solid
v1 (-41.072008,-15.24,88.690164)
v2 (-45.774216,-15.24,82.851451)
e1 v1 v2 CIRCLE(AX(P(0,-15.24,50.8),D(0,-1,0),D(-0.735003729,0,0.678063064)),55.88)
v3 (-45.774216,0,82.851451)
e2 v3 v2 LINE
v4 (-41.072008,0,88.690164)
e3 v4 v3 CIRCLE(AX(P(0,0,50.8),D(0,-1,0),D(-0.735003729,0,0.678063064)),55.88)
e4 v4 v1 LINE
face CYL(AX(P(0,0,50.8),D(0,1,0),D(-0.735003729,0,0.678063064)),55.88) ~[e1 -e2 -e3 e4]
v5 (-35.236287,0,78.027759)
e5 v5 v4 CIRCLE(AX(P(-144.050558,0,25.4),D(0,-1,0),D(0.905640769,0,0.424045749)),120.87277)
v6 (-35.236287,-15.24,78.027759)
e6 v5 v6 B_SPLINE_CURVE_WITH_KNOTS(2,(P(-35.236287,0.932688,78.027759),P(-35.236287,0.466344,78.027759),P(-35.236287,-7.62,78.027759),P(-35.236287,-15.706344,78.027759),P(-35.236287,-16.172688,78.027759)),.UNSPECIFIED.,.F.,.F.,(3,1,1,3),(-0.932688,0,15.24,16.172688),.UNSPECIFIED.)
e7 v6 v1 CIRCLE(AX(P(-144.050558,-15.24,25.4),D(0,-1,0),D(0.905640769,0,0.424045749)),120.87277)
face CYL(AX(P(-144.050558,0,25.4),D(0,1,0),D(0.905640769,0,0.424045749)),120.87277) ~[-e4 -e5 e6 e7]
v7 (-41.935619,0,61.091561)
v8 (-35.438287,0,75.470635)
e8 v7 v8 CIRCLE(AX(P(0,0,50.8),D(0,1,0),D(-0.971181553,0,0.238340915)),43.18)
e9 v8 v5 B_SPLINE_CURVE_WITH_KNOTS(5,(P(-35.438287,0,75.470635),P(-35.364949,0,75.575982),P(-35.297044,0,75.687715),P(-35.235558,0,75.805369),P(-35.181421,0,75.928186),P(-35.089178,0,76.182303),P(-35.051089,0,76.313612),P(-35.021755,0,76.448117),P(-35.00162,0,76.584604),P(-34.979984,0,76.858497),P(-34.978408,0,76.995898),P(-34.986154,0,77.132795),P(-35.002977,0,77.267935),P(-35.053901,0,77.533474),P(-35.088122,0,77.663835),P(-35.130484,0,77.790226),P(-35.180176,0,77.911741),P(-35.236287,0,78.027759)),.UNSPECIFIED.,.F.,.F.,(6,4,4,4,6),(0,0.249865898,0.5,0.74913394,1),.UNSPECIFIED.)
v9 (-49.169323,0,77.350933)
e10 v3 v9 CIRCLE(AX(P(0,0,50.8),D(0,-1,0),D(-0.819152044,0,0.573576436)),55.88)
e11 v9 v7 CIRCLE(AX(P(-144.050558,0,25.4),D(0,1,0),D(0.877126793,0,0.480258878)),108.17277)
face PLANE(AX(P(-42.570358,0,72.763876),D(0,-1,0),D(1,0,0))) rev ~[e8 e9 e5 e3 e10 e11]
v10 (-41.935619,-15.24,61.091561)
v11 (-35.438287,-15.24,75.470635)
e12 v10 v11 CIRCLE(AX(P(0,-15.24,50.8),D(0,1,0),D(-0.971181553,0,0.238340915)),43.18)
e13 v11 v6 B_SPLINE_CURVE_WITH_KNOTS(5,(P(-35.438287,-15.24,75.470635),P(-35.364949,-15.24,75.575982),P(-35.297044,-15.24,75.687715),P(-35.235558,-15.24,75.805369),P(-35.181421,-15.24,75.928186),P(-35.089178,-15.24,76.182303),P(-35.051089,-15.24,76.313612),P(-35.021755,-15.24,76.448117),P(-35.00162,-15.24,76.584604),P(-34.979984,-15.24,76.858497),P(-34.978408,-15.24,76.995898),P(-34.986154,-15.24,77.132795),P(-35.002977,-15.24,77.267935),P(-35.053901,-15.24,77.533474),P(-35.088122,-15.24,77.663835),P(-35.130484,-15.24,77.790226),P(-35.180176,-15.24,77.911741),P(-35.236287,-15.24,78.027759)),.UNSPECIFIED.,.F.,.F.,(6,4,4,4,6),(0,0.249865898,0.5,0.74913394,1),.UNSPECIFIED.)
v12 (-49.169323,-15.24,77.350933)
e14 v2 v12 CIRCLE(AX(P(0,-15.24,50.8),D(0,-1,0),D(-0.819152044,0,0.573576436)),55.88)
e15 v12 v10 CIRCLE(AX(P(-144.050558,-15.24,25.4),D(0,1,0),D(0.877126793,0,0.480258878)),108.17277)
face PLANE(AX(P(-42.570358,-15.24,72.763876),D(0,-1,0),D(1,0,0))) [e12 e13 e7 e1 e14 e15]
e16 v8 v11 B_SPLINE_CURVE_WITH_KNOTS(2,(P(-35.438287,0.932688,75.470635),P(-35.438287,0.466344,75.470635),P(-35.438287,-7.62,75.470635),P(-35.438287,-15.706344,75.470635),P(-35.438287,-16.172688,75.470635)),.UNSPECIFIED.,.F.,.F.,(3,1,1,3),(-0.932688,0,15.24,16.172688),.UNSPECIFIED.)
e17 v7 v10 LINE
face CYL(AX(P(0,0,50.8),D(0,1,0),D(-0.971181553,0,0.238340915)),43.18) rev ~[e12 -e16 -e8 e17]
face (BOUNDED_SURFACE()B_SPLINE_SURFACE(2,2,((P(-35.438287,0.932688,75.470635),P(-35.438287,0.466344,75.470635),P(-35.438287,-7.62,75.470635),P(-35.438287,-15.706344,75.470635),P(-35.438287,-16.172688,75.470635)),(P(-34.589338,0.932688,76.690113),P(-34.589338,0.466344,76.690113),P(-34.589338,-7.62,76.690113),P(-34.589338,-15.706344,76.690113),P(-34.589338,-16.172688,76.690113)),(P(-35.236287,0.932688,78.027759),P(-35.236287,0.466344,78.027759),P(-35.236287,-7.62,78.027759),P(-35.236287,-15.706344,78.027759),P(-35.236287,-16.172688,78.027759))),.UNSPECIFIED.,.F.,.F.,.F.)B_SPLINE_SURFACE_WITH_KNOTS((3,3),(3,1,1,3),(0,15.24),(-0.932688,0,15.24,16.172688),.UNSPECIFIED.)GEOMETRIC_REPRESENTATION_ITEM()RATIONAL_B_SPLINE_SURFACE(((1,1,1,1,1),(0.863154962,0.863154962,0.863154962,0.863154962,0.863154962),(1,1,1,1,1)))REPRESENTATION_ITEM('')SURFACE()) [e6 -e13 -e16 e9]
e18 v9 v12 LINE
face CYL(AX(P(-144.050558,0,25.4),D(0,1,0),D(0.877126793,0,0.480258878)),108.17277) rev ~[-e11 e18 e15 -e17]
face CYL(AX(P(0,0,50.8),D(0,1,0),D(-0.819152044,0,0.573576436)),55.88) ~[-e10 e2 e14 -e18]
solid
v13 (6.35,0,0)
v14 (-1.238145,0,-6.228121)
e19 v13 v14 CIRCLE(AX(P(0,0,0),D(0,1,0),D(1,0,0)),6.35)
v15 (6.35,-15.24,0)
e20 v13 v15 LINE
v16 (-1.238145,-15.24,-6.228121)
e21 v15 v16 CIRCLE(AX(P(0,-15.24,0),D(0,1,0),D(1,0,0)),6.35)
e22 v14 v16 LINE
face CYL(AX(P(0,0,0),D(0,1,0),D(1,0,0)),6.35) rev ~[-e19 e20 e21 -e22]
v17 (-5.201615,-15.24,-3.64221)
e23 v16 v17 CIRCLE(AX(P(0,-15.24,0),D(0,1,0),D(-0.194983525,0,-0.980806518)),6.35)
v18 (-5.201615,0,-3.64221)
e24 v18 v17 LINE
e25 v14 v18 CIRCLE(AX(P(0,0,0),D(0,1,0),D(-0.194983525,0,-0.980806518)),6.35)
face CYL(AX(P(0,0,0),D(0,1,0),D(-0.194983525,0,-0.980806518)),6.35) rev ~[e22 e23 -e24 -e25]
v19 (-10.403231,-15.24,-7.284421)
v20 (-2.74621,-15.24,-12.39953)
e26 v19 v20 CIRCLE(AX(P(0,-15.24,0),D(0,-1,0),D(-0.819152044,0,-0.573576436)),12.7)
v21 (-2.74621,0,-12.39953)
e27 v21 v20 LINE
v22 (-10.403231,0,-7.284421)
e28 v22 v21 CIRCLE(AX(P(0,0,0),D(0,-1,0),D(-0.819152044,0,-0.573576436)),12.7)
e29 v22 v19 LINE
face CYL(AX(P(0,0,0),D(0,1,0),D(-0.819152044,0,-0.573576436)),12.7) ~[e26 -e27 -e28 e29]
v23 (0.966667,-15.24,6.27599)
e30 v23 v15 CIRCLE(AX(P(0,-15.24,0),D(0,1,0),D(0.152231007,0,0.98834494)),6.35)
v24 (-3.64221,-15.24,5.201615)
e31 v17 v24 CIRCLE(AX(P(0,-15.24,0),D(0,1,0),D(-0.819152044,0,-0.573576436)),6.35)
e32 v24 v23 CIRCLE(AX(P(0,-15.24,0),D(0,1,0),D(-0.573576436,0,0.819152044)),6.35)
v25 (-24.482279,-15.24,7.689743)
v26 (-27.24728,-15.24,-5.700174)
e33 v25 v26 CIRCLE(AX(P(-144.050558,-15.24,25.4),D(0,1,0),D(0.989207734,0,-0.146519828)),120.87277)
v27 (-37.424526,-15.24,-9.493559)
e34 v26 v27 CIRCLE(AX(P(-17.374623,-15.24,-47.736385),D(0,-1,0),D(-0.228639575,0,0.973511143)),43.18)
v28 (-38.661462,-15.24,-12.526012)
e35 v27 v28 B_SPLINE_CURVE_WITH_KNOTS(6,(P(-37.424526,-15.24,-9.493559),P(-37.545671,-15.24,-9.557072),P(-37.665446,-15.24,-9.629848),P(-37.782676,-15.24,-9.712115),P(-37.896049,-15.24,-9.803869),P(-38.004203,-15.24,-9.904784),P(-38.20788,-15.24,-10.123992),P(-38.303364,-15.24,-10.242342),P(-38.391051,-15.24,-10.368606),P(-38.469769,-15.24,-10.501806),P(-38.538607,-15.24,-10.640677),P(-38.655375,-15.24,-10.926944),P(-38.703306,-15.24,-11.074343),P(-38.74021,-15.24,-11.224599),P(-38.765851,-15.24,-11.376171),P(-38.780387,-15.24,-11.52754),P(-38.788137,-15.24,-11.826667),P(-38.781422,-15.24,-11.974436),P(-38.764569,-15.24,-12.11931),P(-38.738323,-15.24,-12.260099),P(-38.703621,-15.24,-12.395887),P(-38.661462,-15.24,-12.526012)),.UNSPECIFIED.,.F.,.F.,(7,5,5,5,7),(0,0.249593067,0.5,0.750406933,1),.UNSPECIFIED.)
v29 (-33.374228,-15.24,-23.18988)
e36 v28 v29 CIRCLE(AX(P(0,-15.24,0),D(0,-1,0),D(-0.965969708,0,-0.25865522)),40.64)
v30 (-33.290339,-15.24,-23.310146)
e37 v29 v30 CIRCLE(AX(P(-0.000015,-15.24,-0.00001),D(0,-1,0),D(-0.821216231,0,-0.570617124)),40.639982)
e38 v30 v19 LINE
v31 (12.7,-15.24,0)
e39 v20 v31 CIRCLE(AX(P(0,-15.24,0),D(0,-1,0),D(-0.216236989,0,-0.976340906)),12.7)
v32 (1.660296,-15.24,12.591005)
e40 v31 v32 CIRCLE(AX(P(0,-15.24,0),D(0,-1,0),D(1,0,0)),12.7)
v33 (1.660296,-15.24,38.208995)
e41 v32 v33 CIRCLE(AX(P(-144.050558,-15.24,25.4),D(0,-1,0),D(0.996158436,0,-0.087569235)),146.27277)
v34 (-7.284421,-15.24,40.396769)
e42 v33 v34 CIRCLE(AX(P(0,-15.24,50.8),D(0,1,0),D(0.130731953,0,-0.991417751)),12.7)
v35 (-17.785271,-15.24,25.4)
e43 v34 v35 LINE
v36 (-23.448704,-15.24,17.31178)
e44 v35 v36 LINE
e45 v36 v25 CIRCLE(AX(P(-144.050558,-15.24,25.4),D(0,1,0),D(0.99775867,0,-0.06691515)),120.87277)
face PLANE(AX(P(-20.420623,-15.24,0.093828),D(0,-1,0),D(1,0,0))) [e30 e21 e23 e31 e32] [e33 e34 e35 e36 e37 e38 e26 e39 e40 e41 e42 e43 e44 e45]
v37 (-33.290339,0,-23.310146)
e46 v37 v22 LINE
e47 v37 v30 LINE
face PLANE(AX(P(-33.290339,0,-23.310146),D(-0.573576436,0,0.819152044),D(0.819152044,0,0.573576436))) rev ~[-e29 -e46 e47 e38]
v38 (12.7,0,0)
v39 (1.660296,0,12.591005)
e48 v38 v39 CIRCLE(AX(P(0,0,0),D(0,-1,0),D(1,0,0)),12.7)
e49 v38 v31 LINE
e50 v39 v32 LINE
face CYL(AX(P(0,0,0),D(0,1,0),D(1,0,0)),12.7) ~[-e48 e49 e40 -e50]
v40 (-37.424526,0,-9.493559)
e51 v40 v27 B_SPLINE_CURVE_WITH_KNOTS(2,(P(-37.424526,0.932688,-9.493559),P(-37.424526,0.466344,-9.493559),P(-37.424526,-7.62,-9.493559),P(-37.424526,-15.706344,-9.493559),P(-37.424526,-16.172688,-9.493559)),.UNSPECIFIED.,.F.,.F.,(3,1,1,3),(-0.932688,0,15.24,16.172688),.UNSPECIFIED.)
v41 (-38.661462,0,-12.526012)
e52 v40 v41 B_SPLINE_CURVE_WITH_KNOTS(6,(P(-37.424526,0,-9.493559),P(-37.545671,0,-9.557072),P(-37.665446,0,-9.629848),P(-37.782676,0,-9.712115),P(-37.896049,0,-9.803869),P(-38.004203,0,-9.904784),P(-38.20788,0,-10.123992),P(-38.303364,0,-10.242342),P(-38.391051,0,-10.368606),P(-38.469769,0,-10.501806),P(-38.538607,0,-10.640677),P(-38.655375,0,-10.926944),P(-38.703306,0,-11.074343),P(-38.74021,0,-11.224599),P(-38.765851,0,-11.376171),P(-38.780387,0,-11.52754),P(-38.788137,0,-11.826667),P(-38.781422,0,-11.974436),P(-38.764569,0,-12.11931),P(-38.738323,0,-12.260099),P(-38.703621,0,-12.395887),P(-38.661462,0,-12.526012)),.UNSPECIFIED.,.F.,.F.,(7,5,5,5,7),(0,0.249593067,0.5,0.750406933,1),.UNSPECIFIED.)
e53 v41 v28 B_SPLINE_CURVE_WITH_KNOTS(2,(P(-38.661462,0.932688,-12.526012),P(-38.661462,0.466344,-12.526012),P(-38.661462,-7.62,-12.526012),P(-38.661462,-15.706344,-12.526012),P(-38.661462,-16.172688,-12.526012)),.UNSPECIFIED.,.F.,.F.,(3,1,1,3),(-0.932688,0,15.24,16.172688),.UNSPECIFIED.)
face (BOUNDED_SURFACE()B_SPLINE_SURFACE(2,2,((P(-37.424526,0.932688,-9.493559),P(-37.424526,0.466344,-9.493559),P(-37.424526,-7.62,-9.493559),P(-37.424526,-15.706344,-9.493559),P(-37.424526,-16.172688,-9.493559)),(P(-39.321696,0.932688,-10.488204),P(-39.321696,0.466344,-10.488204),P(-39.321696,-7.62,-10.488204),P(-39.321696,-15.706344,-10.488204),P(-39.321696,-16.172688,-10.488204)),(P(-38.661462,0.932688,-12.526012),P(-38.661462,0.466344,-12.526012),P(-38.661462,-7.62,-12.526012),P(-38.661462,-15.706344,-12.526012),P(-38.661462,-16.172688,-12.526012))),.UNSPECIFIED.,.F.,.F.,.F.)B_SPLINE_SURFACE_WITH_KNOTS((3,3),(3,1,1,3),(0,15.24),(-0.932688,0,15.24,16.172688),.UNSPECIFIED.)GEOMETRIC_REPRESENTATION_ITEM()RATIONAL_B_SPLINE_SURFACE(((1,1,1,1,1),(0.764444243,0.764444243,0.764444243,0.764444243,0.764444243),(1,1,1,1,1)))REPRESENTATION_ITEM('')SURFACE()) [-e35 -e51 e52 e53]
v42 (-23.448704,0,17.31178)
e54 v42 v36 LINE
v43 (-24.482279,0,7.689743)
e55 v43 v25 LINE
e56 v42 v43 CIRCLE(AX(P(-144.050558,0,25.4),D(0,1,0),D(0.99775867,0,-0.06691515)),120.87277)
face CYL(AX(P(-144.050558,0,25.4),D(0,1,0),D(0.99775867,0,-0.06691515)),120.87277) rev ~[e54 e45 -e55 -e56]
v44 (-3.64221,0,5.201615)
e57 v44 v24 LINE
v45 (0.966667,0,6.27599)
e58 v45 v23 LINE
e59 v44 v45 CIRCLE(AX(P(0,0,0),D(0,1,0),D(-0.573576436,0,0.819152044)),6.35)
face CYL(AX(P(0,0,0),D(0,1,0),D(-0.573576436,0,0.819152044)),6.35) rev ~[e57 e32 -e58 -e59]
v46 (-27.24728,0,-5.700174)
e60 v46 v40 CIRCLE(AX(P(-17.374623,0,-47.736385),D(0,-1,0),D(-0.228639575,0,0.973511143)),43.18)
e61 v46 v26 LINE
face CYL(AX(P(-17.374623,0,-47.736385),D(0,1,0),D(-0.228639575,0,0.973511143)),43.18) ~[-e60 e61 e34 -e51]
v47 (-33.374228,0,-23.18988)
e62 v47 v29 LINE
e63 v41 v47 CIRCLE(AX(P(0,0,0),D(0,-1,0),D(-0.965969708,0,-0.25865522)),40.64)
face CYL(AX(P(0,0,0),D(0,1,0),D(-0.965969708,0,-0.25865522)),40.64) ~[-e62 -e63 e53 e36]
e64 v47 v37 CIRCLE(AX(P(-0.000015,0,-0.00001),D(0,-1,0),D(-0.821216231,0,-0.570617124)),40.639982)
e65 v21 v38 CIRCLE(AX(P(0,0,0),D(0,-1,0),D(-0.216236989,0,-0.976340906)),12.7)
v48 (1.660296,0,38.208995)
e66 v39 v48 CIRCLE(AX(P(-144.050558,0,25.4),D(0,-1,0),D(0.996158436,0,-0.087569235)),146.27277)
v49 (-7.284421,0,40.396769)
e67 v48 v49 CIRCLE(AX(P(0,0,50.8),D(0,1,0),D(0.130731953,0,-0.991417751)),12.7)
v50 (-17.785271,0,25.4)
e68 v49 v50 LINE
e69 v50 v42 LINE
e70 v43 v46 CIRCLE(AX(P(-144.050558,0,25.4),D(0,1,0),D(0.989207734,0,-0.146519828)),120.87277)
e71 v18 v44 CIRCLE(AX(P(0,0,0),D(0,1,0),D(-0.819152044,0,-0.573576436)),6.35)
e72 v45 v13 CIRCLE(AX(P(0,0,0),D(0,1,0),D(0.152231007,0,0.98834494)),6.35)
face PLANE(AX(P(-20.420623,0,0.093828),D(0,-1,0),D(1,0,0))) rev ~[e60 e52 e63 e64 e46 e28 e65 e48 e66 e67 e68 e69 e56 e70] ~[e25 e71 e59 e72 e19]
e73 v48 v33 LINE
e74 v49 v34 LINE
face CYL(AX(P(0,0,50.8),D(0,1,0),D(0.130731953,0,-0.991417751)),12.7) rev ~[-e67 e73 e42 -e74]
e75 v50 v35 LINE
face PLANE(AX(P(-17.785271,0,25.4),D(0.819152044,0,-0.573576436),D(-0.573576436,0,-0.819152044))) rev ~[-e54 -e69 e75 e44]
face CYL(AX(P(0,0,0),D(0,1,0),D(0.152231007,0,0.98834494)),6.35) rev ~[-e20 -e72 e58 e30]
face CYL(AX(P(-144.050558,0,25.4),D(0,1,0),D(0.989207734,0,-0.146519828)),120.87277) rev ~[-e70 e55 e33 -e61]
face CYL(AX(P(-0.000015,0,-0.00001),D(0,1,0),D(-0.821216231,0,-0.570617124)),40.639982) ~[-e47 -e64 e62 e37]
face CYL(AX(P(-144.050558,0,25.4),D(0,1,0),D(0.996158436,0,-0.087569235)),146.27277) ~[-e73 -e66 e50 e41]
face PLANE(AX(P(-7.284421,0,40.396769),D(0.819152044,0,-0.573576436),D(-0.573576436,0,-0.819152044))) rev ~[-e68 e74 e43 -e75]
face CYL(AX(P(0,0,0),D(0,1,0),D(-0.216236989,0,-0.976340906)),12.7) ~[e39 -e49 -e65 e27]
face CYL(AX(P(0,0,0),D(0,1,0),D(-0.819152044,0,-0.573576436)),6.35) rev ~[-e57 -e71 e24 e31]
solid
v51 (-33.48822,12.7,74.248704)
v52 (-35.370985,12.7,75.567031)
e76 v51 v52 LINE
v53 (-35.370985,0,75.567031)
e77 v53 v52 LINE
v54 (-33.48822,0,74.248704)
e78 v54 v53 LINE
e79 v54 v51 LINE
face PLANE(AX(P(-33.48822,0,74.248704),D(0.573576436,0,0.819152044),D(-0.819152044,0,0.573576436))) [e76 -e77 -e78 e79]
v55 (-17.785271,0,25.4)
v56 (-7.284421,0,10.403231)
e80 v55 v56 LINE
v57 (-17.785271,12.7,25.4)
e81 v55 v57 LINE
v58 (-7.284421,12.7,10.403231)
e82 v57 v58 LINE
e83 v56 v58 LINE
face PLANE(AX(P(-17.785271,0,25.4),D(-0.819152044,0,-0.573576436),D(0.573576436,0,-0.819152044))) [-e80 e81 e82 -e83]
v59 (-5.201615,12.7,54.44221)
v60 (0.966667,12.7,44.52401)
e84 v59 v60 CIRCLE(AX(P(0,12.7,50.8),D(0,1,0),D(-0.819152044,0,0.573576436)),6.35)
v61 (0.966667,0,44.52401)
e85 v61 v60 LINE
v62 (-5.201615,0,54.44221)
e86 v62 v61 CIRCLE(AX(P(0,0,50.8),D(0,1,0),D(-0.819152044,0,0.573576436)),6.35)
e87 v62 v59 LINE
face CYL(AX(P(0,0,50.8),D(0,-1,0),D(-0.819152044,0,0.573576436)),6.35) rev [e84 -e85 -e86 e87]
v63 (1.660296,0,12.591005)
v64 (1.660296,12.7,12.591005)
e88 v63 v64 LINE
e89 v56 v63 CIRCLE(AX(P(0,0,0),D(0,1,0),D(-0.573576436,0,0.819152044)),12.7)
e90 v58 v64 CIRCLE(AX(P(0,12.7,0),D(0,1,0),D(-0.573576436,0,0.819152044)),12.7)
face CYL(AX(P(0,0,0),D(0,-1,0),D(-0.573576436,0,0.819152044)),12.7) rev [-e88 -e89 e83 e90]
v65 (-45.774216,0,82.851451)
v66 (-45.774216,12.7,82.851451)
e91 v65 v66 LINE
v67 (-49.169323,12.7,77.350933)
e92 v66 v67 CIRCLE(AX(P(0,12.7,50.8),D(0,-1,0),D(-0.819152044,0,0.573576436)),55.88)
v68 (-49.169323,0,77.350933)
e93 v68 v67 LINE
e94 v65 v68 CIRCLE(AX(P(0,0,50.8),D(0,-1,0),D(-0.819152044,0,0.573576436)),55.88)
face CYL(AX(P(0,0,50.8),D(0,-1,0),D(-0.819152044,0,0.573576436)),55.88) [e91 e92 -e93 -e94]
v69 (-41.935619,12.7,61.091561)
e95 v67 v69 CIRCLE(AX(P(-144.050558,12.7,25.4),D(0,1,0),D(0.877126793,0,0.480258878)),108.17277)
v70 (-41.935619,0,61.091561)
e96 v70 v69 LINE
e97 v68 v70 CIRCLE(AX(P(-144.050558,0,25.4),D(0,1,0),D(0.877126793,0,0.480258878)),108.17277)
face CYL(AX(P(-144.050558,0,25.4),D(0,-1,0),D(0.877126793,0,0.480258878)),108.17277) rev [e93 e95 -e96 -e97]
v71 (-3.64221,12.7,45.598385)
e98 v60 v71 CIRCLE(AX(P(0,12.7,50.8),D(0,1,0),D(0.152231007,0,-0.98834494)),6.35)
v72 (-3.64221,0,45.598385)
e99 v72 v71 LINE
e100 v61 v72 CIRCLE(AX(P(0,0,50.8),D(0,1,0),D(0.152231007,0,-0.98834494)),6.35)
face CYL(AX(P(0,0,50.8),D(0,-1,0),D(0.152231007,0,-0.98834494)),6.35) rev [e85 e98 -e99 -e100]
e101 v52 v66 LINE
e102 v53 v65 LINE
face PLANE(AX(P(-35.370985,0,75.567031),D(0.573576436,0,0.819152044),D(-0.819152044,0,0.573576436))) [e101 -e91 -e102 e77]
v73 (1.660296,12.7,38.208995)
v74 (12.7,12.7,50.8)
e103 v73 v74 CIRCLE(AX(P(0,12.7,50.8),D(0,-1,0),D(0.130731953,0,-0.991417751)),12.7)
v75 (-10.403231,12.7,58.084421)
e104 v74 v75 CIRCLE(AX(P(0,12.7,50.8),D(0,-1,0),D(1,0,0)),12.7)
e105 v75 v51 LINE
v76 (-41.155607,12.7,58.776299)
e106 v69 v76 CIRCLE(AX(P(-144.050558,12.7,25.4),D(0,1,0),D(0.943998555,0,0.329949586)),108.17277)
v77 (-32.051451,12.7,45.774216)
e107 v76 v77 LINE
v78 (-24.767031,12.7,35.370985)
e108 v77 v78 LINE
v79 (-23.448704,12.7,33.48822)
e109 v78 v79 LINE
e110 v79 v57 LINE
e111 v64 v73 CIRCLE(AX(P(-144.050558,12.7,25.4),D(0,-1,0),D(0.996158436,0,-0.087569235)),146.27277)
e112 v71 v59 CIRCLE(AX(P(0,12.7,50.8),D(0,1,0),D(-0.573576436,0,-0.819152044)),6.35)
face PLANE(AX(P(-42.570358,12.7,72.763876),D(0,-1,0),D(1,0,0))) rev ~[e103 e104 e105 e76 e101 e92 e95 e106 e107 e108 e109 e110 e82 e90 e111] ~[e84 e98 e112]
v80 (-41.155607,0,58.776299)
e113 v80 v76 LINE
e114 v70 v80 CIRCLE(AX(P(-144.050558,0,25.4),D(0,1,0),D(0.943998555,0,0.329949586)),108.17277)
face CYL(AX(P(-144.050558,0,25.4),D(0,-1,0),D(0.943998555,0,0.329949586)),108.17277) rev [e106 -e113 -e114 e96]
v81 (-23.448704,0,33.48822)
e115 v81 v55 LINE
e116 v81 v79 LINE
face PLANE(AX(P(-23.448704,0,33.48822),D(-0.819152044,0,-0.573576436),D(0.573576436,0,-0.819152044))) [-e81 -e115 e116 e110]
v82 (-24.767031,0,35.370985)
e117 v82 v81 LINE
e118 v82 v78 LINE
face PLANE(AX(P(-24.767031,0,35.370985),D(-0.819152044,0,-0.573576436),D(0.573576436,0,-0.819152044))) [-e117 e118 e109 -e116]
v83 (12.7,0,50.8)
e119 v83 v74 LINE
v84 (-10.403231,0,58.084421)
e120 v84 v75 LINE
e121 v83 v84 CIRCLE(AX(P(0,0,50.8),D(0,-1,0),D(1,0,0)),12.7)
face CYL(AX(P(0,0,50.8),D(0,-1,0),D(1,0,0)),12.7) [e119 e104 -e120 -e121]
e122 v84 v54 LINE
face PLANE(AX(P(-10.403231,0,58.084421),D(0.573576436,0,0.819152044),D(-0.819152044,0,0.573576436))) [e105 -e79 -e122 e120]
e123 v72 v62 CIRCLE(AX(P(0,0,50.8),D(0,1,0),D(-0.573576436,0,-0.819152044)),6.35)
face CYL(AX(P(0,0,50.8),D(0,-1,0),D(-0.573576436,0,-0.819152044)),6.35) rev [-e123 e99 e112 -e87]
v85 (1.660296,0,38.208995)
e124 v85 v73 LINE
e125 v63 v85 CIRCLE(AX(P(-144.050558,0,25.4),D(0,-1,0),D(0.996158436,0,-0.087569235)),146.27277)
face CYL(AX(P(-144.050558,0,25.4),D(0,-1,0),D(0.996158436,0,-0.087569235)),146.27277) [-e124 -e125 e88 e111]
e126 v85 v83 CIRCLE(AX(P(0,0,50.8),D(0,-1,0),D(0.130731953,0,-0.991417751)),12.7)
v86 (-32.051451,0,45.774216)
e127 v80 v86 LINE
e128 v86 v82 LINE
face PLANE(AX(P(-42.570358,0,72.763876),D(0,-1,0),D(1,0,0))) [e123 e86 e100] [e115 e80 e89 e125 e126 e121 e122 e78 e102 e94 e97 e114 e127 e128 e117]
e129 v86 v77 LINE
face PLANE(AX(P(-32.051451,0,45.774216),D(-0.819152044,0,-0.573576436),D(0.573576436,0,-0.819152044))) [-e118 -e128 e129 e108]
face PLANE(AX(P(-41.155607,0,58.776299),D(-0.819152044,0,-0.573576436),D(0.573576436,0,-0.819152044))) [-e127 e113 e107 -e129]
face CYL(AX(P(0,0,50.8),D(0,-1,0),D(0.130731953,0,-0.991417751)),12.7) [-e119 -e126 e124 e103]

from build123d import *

# Parameters (mm, degrees)
F1_DEPTH = 15.24
F2_DEPTH = 12.7
F3_R     = 2.54
F3_2_R   = 2.54


with BuildPart() as f1:
    # F0 (on Front) → F1 (new body)
    with BuildSketch(Plane.XZ):
        with BuildLine():
            ThreePointArc((-10.4032309625, -7.2844207417), (-12.5070584633, 2.2053318564), (-7.2844207417, 10.4032309625))
            Line((-7.2844207417, 10.4032309625), (-17.7852714705, 25.4))
            Line((-17.7852714705, 25.4), (-23.4487037639, 17.311780459))
            ThreePointArc((-23.4487037639, 17.3117804589), (-23.8691571207, 12.4904135074), (-24.4822790895, 7.6897425378))
            ThreePointArc((-24.4822790895, 7.6897425378), (-25.6753043407, 0.9556578611), (-27.247280138, -5.700174001))
            ThreePointArc((-27.247280138, -5.700174001), (-29.9750764217, -14.5626206105), (-33.3742275986, -23.1898799521))
            ThreePointArc((-33.3742275986, -23.1898799521), (-33.332337581, -23.2500509975), (-33.2903390799, -23.3101463733))
            Line((-33.2903390799, -23.3101463733), (-10.4032309625, -7.2844207417))
        make_face()
        with BuildLine():
            ThreePointArc((-5.2016154812, -3.6422103708), (-6.2535292316, 1.1026659282), (-3.6422103708, 5.2016154812))
            Line((-3.6422103708, 5.2016154812), (-7.2844207417, 10.4032309625))
            ThreePointArc((-7.2844207417, 10.4032309625), (-12.5070584633, 2.2053318564), (-10.4032309625, -7.2844207417))
            Line((-10.4032309625, -7.2844207417), (-5.2016154812, -3.6422103708))
        make_face()
        with BuildLine():
            ThreePointArc((-2.7462097635, -12.3995295046), (-1.958668649, -9.3220137901), (-1.2381453807, -6.2281213874))
            ThreePointArc((-1.2381453807, -6.2281213874), (-3.4697786581, -5.3181891715), (-5.2016154812, -3.6422103708))
            Line((-5.2016154812, -3.6422103708), (-10.4032309625, -7.2844207417))
            ThreePointArc((-10.4032309625, -7.2844207417), (-7.0546461474, -10.5603961921), (-2.7462097635, -12.3995295046))
        make_face()
        with BuildLine():
            ThreePointArc((0.9666668919, 6.2759903697), (4.8197943298, 4.1342572027), (6.35, 0))
            ThreePointArc((6.35, 0), (4.0286645947, -4.9083970483), (-1.2381453807, -6.2281213874))
            ThreePointArc((-1.2381453807, -6.2281213874), (-1.958668649, -9.3220137901), (-2.7462097635, -12.3995295046))
            ThreePointArc((-2.7462097635, -12.3995295046), (7.9502558451, -9.9037079924), (12.7, 0))
            ThreePointArc((12.7, 0), (9.5492344397, 8.372700975), (1.6602958084, 12.5910054336))
            ThreePointArc((1.6602958084, 12.5910054336), (1.3477700165, 9.4297317015), (0.9666668919, 6.2759903697))
        make_face()
        with BuildLine():
            ThreePointArc((-3.6422103708, 5.2016154812), (-1.4415975781, 6.1841973144), (0.9666668919, 6.2759903697))
            ThreePointArc((0.9666668919, 6.2759903697), (1.3477700165, 9.4297317015), (1.6602958084, 12.5910054336))
            ThreePointArc((1.6602958084, 12.5910054336), (-3.0173307078, 12.3363574608), (-7.2844207417, 10.4032309625))
            Line((-7.2844207417, 10.4032309625), (-3.6422103708, 5.2016154812))
        make_face()
        with BuildLine():
            ThreePointArc((-7.2844207417, 10.4032309625), (-3.0173307078, 12.3363574608), (1.6602958084, 12.5910054336))
            ThreePointArc((1.6602958084, 12.5910054336), (2.2222120536, 25.4), (1.6602958084, 38.2089945664))
            ThreePointArc((1.6602958084, 38.2089945664), (-3.0173307078, 38.4636425392), (-7.2844207417, 40.3967690375))
            Line((-7.2844207417, 40.3967690375), (-17.7852714705, 25.4))
            Line((-17.7852714705, 25.4), (-7.2844207417, 10.4032309625))
        make_face()
        with BuildLine():
            ThreePointArc((-39.2570089364, -10.5117481595), (-36.8647241491, -17.1056047368), (-33.3742275986, -23.1898799521))
            ThreePointArc((-33.3742275986, -23.1898799521), (-29.9750764217, -14.5626206105), (-27.247280138, -5.700174001))
            ThreePointArc((-27.247280138, -5.700174001), (-33.4333745622, -7.6536094425), (-39.2570089364, -10.5117481595))
        make_face()
    extrude(amount=F1_DEPTH)

    # F3
    f3_edges = [f1.edges().sort_by_distance(p)[0] for p in [
        (-39.257009, -7.62, -10.511748),
    ]]
    fillet(f3_edges, radius=F3_R)


with BuildPart() as f1b:
    # F0 (on Front) → F1, piece 2 (new body)
    with BuildSketch(Plane.XZ):
        with BuildLine():
            ThreePointArc((-41.935619441, 61.0915607223), (-39.3250885511, 68.6339510609), (-35.3709852724, 75.5670305216))
            Line((-35.3709852724, 75.5670305216), (-45.7742162349, 82.8514512633))
            ThreePointArc((-45.7742162349, 82.8514512633), (-47.5513705802, 80.150324631), (-49.1693231871, 77.3509332664))
            ThreePointArc((-49.1693231871, 77.3509332664), (-45.2175428708, 69.3702547822), (-41.935619441, 61.0915607223))
        make_face()
        with BuildLine():
            Line((-45.7742162349, 82.8514512633), (-35.3709852724, 75.5670305216))
            ThreePointArc((-35.3709852724, 75.5670305216), (-34.9813519115, 76.1143717766), (-34.5832495999, 76.6555844473))
            ThreePointArc((-34.5832495999, 76.6555844473), (-37.6573325287, 82.7646940248), (-41.0720083574, 88.6901640204))
            ThreePointArc((-41.0720083574, 88.6901640204), (-43.5211365103, 85.8497514521), (-45.7742162349, 82.8514512633))
        make_face()
    extrude(amount=F1_DEPTH)

    # F3#2
    f3_2_edges = [f1b.edges().sort_by_distance(p)[0] for p in [
        (-34.58325, -7.62, 76.655584),
    ]]
    fillet(f3_2_edges, radius=F3_2_R)


with BuildPart() as f2:
    # F0 (on Front) → F2 (new body)
    with BuildSketch(Plane.XZ):
        with BuildLine():
            ThreePointArc((-41.935619441, 61.0915607223), (-39.3250885511, 68.6339510609), (-35.3709852724, 75.5670305216))
            Line((-35.3709852724, 75.5670305216), (-45.7742162349, 82.8514512633))
            ThreePointArc((-45.7742162349, 82.8514512633), (-47.5513705802, 80.150324631), (-49.1693231871, 77.3509332664))
            ThreePointArc((-49.1693231871, 77.3509332664), (-45.2175428708, 69.3702547822), (-41.935619441, 61.0915607223))
        make_face()
        with BuildLine():
            ThreePointArc((-25.6358638454, 49.6525617154), (-28.9034220532, 62.1608980598), (-33.488219541, 74.2487037639))
            Line((-33.488219541, 74.2487037639), (-35.3709852724, 75.5670305216))
            ThreePointArc((-35.3709852724, 75.5670305216), (-39.3250885511, 68.6339510609), (-41.935619441, 61.0915607223))
            ThreePointArc((-41.935619441, 61.0915607223), (-41.5390767729, 59.9361318066), (-41.1556072988, 58.7762985301))
            Line((-41.1556072988, 58.7762985301), (-32.0514512633, 45.7742162349))
            ThreePointArc((-32.0514512633, 45.7742162349), (-28.9087698117, 47.8210981469), (-25.6358638454, 49.6525617154))
        make_face()
        with BuildLine():
            Line((-23.4487037639, 33.488219541), (-17.7852714705, 25.4))
            Line((-17.7852714705, 25.4), (-7.2844207417, 40.3967690375))
            ThreePointArc((-7.2844207417, 40.3967690375), (-12.5070584633, 48.5946681436), (-10.4032309625, 58.0844207417))
            Line((-10.4032309625, 58.0844207417), (-33.488219541, 74.2487037639))
            ThreePointArc((-33.488219541, 74.2487037639), (-28.9034220532, 62.1608980598), (-25.6358638454, 49.6525617154))
            ThreePointArc((-25.6358638454, 49.6525617154), (-24.453748264, 42.9165533695), (-23.6544937534, 36.1244698961))
            ThreePointArc((-23.6544937534, 36.1244698961), (-23.5443895594, 34.8069074804), (-23.4487037639, 33.4882195411))
        make_face()
        with BuildLine():
            ThreePointArc((-7.2844207417, 10.4032309625), (-3.0173307078, 12.3363574608), (1.6602958084, 12.5910054336))
            ThreePointArc((1.6602958084, 12.5910054336), (2.2222120536, 25.4), (1.6602958084, 38.2089945664))
            ThreePointArc((1.6602958084, 38.2089945664), (-3.0173307078, 38.4636425392), (-7.2844207417, 40.3967690375))
            Line((-7.2844207417, 40.3967690375), (-17.7852714705, 25.4))
            Line((-17.7852714705, 25.4), (-7.2844207417, 10.4032309625))
        make_face()
        with BuildLine():
            ThreePointArc((-10.4032309625, 58.0844207417), (-12.5070584633, 48.5946681436), (-7.2844207417, 40.3967690375))
            Line((-7.2844207417, 40.3967690375), (-3.6422103708, 45.5983845188))
            ThreePointArc((-3.6422103708, 45.5983845188), (-6.2535292316, 49.6973340718), (-5.2016154812, 54.4422103708))
            Line((-5.2016154812, 54.4422103708), (-10.4032309625, 58.0844207417))
        make_face()
        with BuildLine():
            ThreePointArc((0.9666668919, 44.5240096303), (1.3477700165, 41.3702682985), (1.6602958084, 38.2089945664))
            ThreePointArc((1.6602958084, 38.2089945664), (9.5492344397, 42.427299025), (12.7, 50.8))
            ThreePointArc((12.7, 50.8), (3.8189636537, 62.9122052745), (-10.4032309625, 58.0844207417))
            Line((-10.4032309625, 58.0844207417), (-5.2016154812, 54.4422103708))
            ThreePointArc((-5.2016154812, 54.4422103708), (1.9094818269, 56.8561026373), (6.35, 50.8))
            ThreePointArc((6.35, 50.8), (4.8197943298, 46.6657427973), (0.9666668919, 44.5240096303))
        make_face()
        with BuildLine():
            ThreePointArc((-7.2844207417, 40.3967690375), (-3.0173307078, 38.4636425392), (1.6602958084, 38.2089945664))
            ThreePointArc((1.6602958084, 38.2089945664), (1.3477700165, 41.3702682985), (0.9666668919, 44.5240096303))
            ThreePointArc((0.9666668919, 44.5240096303), (-1.4415975781, 44.6158026856), (-3.6422103708, 45.5983845188))
            Line((-3.6422103708, 45.5983845188), (-7.2844207417, 40.3967690375))
        make_face()
        with BuildLine():
            Line((-32.0514512633, 45.7742162349), (-24.7670305216, 35.3709852724))
            ThreePointArc((-24.7670305216, 35.3709852724), (-24.2136931931, 35.7520553528), (-23.6544937534, 36.1244698961))
            ThreePointArc((-23.6544937534, 36.1244698961), (-24.453748264, 42.9165533695), (-25.6358638454, 49.6525617154))
            ThreePointArc((-25.6358638454, 49.6525617154), (-28.9087698117, 47.8210981469), (-32.0514512633, 45.7742162349))
        make_face()
        with BuildLine():
            Line((-24.7670305216, 35.3709852724), (-23.4487037639, 33.488219541))
            ThreePointArc((-23.4487037639, 33.4882195411), (-23.5443895594, 34.8069074804), (-23.6544937534, 36.1244698961))
            ThreePointArc((-23.6544937534, 36.1244698961), (-24.2136931931, 35.7520553528), (-24.7670305216, 35.3709852724))
        make_face()
    extrude(amount=-F2_DEPTH)


solid = Compound([f1.part, f1b.part, f2.part])
